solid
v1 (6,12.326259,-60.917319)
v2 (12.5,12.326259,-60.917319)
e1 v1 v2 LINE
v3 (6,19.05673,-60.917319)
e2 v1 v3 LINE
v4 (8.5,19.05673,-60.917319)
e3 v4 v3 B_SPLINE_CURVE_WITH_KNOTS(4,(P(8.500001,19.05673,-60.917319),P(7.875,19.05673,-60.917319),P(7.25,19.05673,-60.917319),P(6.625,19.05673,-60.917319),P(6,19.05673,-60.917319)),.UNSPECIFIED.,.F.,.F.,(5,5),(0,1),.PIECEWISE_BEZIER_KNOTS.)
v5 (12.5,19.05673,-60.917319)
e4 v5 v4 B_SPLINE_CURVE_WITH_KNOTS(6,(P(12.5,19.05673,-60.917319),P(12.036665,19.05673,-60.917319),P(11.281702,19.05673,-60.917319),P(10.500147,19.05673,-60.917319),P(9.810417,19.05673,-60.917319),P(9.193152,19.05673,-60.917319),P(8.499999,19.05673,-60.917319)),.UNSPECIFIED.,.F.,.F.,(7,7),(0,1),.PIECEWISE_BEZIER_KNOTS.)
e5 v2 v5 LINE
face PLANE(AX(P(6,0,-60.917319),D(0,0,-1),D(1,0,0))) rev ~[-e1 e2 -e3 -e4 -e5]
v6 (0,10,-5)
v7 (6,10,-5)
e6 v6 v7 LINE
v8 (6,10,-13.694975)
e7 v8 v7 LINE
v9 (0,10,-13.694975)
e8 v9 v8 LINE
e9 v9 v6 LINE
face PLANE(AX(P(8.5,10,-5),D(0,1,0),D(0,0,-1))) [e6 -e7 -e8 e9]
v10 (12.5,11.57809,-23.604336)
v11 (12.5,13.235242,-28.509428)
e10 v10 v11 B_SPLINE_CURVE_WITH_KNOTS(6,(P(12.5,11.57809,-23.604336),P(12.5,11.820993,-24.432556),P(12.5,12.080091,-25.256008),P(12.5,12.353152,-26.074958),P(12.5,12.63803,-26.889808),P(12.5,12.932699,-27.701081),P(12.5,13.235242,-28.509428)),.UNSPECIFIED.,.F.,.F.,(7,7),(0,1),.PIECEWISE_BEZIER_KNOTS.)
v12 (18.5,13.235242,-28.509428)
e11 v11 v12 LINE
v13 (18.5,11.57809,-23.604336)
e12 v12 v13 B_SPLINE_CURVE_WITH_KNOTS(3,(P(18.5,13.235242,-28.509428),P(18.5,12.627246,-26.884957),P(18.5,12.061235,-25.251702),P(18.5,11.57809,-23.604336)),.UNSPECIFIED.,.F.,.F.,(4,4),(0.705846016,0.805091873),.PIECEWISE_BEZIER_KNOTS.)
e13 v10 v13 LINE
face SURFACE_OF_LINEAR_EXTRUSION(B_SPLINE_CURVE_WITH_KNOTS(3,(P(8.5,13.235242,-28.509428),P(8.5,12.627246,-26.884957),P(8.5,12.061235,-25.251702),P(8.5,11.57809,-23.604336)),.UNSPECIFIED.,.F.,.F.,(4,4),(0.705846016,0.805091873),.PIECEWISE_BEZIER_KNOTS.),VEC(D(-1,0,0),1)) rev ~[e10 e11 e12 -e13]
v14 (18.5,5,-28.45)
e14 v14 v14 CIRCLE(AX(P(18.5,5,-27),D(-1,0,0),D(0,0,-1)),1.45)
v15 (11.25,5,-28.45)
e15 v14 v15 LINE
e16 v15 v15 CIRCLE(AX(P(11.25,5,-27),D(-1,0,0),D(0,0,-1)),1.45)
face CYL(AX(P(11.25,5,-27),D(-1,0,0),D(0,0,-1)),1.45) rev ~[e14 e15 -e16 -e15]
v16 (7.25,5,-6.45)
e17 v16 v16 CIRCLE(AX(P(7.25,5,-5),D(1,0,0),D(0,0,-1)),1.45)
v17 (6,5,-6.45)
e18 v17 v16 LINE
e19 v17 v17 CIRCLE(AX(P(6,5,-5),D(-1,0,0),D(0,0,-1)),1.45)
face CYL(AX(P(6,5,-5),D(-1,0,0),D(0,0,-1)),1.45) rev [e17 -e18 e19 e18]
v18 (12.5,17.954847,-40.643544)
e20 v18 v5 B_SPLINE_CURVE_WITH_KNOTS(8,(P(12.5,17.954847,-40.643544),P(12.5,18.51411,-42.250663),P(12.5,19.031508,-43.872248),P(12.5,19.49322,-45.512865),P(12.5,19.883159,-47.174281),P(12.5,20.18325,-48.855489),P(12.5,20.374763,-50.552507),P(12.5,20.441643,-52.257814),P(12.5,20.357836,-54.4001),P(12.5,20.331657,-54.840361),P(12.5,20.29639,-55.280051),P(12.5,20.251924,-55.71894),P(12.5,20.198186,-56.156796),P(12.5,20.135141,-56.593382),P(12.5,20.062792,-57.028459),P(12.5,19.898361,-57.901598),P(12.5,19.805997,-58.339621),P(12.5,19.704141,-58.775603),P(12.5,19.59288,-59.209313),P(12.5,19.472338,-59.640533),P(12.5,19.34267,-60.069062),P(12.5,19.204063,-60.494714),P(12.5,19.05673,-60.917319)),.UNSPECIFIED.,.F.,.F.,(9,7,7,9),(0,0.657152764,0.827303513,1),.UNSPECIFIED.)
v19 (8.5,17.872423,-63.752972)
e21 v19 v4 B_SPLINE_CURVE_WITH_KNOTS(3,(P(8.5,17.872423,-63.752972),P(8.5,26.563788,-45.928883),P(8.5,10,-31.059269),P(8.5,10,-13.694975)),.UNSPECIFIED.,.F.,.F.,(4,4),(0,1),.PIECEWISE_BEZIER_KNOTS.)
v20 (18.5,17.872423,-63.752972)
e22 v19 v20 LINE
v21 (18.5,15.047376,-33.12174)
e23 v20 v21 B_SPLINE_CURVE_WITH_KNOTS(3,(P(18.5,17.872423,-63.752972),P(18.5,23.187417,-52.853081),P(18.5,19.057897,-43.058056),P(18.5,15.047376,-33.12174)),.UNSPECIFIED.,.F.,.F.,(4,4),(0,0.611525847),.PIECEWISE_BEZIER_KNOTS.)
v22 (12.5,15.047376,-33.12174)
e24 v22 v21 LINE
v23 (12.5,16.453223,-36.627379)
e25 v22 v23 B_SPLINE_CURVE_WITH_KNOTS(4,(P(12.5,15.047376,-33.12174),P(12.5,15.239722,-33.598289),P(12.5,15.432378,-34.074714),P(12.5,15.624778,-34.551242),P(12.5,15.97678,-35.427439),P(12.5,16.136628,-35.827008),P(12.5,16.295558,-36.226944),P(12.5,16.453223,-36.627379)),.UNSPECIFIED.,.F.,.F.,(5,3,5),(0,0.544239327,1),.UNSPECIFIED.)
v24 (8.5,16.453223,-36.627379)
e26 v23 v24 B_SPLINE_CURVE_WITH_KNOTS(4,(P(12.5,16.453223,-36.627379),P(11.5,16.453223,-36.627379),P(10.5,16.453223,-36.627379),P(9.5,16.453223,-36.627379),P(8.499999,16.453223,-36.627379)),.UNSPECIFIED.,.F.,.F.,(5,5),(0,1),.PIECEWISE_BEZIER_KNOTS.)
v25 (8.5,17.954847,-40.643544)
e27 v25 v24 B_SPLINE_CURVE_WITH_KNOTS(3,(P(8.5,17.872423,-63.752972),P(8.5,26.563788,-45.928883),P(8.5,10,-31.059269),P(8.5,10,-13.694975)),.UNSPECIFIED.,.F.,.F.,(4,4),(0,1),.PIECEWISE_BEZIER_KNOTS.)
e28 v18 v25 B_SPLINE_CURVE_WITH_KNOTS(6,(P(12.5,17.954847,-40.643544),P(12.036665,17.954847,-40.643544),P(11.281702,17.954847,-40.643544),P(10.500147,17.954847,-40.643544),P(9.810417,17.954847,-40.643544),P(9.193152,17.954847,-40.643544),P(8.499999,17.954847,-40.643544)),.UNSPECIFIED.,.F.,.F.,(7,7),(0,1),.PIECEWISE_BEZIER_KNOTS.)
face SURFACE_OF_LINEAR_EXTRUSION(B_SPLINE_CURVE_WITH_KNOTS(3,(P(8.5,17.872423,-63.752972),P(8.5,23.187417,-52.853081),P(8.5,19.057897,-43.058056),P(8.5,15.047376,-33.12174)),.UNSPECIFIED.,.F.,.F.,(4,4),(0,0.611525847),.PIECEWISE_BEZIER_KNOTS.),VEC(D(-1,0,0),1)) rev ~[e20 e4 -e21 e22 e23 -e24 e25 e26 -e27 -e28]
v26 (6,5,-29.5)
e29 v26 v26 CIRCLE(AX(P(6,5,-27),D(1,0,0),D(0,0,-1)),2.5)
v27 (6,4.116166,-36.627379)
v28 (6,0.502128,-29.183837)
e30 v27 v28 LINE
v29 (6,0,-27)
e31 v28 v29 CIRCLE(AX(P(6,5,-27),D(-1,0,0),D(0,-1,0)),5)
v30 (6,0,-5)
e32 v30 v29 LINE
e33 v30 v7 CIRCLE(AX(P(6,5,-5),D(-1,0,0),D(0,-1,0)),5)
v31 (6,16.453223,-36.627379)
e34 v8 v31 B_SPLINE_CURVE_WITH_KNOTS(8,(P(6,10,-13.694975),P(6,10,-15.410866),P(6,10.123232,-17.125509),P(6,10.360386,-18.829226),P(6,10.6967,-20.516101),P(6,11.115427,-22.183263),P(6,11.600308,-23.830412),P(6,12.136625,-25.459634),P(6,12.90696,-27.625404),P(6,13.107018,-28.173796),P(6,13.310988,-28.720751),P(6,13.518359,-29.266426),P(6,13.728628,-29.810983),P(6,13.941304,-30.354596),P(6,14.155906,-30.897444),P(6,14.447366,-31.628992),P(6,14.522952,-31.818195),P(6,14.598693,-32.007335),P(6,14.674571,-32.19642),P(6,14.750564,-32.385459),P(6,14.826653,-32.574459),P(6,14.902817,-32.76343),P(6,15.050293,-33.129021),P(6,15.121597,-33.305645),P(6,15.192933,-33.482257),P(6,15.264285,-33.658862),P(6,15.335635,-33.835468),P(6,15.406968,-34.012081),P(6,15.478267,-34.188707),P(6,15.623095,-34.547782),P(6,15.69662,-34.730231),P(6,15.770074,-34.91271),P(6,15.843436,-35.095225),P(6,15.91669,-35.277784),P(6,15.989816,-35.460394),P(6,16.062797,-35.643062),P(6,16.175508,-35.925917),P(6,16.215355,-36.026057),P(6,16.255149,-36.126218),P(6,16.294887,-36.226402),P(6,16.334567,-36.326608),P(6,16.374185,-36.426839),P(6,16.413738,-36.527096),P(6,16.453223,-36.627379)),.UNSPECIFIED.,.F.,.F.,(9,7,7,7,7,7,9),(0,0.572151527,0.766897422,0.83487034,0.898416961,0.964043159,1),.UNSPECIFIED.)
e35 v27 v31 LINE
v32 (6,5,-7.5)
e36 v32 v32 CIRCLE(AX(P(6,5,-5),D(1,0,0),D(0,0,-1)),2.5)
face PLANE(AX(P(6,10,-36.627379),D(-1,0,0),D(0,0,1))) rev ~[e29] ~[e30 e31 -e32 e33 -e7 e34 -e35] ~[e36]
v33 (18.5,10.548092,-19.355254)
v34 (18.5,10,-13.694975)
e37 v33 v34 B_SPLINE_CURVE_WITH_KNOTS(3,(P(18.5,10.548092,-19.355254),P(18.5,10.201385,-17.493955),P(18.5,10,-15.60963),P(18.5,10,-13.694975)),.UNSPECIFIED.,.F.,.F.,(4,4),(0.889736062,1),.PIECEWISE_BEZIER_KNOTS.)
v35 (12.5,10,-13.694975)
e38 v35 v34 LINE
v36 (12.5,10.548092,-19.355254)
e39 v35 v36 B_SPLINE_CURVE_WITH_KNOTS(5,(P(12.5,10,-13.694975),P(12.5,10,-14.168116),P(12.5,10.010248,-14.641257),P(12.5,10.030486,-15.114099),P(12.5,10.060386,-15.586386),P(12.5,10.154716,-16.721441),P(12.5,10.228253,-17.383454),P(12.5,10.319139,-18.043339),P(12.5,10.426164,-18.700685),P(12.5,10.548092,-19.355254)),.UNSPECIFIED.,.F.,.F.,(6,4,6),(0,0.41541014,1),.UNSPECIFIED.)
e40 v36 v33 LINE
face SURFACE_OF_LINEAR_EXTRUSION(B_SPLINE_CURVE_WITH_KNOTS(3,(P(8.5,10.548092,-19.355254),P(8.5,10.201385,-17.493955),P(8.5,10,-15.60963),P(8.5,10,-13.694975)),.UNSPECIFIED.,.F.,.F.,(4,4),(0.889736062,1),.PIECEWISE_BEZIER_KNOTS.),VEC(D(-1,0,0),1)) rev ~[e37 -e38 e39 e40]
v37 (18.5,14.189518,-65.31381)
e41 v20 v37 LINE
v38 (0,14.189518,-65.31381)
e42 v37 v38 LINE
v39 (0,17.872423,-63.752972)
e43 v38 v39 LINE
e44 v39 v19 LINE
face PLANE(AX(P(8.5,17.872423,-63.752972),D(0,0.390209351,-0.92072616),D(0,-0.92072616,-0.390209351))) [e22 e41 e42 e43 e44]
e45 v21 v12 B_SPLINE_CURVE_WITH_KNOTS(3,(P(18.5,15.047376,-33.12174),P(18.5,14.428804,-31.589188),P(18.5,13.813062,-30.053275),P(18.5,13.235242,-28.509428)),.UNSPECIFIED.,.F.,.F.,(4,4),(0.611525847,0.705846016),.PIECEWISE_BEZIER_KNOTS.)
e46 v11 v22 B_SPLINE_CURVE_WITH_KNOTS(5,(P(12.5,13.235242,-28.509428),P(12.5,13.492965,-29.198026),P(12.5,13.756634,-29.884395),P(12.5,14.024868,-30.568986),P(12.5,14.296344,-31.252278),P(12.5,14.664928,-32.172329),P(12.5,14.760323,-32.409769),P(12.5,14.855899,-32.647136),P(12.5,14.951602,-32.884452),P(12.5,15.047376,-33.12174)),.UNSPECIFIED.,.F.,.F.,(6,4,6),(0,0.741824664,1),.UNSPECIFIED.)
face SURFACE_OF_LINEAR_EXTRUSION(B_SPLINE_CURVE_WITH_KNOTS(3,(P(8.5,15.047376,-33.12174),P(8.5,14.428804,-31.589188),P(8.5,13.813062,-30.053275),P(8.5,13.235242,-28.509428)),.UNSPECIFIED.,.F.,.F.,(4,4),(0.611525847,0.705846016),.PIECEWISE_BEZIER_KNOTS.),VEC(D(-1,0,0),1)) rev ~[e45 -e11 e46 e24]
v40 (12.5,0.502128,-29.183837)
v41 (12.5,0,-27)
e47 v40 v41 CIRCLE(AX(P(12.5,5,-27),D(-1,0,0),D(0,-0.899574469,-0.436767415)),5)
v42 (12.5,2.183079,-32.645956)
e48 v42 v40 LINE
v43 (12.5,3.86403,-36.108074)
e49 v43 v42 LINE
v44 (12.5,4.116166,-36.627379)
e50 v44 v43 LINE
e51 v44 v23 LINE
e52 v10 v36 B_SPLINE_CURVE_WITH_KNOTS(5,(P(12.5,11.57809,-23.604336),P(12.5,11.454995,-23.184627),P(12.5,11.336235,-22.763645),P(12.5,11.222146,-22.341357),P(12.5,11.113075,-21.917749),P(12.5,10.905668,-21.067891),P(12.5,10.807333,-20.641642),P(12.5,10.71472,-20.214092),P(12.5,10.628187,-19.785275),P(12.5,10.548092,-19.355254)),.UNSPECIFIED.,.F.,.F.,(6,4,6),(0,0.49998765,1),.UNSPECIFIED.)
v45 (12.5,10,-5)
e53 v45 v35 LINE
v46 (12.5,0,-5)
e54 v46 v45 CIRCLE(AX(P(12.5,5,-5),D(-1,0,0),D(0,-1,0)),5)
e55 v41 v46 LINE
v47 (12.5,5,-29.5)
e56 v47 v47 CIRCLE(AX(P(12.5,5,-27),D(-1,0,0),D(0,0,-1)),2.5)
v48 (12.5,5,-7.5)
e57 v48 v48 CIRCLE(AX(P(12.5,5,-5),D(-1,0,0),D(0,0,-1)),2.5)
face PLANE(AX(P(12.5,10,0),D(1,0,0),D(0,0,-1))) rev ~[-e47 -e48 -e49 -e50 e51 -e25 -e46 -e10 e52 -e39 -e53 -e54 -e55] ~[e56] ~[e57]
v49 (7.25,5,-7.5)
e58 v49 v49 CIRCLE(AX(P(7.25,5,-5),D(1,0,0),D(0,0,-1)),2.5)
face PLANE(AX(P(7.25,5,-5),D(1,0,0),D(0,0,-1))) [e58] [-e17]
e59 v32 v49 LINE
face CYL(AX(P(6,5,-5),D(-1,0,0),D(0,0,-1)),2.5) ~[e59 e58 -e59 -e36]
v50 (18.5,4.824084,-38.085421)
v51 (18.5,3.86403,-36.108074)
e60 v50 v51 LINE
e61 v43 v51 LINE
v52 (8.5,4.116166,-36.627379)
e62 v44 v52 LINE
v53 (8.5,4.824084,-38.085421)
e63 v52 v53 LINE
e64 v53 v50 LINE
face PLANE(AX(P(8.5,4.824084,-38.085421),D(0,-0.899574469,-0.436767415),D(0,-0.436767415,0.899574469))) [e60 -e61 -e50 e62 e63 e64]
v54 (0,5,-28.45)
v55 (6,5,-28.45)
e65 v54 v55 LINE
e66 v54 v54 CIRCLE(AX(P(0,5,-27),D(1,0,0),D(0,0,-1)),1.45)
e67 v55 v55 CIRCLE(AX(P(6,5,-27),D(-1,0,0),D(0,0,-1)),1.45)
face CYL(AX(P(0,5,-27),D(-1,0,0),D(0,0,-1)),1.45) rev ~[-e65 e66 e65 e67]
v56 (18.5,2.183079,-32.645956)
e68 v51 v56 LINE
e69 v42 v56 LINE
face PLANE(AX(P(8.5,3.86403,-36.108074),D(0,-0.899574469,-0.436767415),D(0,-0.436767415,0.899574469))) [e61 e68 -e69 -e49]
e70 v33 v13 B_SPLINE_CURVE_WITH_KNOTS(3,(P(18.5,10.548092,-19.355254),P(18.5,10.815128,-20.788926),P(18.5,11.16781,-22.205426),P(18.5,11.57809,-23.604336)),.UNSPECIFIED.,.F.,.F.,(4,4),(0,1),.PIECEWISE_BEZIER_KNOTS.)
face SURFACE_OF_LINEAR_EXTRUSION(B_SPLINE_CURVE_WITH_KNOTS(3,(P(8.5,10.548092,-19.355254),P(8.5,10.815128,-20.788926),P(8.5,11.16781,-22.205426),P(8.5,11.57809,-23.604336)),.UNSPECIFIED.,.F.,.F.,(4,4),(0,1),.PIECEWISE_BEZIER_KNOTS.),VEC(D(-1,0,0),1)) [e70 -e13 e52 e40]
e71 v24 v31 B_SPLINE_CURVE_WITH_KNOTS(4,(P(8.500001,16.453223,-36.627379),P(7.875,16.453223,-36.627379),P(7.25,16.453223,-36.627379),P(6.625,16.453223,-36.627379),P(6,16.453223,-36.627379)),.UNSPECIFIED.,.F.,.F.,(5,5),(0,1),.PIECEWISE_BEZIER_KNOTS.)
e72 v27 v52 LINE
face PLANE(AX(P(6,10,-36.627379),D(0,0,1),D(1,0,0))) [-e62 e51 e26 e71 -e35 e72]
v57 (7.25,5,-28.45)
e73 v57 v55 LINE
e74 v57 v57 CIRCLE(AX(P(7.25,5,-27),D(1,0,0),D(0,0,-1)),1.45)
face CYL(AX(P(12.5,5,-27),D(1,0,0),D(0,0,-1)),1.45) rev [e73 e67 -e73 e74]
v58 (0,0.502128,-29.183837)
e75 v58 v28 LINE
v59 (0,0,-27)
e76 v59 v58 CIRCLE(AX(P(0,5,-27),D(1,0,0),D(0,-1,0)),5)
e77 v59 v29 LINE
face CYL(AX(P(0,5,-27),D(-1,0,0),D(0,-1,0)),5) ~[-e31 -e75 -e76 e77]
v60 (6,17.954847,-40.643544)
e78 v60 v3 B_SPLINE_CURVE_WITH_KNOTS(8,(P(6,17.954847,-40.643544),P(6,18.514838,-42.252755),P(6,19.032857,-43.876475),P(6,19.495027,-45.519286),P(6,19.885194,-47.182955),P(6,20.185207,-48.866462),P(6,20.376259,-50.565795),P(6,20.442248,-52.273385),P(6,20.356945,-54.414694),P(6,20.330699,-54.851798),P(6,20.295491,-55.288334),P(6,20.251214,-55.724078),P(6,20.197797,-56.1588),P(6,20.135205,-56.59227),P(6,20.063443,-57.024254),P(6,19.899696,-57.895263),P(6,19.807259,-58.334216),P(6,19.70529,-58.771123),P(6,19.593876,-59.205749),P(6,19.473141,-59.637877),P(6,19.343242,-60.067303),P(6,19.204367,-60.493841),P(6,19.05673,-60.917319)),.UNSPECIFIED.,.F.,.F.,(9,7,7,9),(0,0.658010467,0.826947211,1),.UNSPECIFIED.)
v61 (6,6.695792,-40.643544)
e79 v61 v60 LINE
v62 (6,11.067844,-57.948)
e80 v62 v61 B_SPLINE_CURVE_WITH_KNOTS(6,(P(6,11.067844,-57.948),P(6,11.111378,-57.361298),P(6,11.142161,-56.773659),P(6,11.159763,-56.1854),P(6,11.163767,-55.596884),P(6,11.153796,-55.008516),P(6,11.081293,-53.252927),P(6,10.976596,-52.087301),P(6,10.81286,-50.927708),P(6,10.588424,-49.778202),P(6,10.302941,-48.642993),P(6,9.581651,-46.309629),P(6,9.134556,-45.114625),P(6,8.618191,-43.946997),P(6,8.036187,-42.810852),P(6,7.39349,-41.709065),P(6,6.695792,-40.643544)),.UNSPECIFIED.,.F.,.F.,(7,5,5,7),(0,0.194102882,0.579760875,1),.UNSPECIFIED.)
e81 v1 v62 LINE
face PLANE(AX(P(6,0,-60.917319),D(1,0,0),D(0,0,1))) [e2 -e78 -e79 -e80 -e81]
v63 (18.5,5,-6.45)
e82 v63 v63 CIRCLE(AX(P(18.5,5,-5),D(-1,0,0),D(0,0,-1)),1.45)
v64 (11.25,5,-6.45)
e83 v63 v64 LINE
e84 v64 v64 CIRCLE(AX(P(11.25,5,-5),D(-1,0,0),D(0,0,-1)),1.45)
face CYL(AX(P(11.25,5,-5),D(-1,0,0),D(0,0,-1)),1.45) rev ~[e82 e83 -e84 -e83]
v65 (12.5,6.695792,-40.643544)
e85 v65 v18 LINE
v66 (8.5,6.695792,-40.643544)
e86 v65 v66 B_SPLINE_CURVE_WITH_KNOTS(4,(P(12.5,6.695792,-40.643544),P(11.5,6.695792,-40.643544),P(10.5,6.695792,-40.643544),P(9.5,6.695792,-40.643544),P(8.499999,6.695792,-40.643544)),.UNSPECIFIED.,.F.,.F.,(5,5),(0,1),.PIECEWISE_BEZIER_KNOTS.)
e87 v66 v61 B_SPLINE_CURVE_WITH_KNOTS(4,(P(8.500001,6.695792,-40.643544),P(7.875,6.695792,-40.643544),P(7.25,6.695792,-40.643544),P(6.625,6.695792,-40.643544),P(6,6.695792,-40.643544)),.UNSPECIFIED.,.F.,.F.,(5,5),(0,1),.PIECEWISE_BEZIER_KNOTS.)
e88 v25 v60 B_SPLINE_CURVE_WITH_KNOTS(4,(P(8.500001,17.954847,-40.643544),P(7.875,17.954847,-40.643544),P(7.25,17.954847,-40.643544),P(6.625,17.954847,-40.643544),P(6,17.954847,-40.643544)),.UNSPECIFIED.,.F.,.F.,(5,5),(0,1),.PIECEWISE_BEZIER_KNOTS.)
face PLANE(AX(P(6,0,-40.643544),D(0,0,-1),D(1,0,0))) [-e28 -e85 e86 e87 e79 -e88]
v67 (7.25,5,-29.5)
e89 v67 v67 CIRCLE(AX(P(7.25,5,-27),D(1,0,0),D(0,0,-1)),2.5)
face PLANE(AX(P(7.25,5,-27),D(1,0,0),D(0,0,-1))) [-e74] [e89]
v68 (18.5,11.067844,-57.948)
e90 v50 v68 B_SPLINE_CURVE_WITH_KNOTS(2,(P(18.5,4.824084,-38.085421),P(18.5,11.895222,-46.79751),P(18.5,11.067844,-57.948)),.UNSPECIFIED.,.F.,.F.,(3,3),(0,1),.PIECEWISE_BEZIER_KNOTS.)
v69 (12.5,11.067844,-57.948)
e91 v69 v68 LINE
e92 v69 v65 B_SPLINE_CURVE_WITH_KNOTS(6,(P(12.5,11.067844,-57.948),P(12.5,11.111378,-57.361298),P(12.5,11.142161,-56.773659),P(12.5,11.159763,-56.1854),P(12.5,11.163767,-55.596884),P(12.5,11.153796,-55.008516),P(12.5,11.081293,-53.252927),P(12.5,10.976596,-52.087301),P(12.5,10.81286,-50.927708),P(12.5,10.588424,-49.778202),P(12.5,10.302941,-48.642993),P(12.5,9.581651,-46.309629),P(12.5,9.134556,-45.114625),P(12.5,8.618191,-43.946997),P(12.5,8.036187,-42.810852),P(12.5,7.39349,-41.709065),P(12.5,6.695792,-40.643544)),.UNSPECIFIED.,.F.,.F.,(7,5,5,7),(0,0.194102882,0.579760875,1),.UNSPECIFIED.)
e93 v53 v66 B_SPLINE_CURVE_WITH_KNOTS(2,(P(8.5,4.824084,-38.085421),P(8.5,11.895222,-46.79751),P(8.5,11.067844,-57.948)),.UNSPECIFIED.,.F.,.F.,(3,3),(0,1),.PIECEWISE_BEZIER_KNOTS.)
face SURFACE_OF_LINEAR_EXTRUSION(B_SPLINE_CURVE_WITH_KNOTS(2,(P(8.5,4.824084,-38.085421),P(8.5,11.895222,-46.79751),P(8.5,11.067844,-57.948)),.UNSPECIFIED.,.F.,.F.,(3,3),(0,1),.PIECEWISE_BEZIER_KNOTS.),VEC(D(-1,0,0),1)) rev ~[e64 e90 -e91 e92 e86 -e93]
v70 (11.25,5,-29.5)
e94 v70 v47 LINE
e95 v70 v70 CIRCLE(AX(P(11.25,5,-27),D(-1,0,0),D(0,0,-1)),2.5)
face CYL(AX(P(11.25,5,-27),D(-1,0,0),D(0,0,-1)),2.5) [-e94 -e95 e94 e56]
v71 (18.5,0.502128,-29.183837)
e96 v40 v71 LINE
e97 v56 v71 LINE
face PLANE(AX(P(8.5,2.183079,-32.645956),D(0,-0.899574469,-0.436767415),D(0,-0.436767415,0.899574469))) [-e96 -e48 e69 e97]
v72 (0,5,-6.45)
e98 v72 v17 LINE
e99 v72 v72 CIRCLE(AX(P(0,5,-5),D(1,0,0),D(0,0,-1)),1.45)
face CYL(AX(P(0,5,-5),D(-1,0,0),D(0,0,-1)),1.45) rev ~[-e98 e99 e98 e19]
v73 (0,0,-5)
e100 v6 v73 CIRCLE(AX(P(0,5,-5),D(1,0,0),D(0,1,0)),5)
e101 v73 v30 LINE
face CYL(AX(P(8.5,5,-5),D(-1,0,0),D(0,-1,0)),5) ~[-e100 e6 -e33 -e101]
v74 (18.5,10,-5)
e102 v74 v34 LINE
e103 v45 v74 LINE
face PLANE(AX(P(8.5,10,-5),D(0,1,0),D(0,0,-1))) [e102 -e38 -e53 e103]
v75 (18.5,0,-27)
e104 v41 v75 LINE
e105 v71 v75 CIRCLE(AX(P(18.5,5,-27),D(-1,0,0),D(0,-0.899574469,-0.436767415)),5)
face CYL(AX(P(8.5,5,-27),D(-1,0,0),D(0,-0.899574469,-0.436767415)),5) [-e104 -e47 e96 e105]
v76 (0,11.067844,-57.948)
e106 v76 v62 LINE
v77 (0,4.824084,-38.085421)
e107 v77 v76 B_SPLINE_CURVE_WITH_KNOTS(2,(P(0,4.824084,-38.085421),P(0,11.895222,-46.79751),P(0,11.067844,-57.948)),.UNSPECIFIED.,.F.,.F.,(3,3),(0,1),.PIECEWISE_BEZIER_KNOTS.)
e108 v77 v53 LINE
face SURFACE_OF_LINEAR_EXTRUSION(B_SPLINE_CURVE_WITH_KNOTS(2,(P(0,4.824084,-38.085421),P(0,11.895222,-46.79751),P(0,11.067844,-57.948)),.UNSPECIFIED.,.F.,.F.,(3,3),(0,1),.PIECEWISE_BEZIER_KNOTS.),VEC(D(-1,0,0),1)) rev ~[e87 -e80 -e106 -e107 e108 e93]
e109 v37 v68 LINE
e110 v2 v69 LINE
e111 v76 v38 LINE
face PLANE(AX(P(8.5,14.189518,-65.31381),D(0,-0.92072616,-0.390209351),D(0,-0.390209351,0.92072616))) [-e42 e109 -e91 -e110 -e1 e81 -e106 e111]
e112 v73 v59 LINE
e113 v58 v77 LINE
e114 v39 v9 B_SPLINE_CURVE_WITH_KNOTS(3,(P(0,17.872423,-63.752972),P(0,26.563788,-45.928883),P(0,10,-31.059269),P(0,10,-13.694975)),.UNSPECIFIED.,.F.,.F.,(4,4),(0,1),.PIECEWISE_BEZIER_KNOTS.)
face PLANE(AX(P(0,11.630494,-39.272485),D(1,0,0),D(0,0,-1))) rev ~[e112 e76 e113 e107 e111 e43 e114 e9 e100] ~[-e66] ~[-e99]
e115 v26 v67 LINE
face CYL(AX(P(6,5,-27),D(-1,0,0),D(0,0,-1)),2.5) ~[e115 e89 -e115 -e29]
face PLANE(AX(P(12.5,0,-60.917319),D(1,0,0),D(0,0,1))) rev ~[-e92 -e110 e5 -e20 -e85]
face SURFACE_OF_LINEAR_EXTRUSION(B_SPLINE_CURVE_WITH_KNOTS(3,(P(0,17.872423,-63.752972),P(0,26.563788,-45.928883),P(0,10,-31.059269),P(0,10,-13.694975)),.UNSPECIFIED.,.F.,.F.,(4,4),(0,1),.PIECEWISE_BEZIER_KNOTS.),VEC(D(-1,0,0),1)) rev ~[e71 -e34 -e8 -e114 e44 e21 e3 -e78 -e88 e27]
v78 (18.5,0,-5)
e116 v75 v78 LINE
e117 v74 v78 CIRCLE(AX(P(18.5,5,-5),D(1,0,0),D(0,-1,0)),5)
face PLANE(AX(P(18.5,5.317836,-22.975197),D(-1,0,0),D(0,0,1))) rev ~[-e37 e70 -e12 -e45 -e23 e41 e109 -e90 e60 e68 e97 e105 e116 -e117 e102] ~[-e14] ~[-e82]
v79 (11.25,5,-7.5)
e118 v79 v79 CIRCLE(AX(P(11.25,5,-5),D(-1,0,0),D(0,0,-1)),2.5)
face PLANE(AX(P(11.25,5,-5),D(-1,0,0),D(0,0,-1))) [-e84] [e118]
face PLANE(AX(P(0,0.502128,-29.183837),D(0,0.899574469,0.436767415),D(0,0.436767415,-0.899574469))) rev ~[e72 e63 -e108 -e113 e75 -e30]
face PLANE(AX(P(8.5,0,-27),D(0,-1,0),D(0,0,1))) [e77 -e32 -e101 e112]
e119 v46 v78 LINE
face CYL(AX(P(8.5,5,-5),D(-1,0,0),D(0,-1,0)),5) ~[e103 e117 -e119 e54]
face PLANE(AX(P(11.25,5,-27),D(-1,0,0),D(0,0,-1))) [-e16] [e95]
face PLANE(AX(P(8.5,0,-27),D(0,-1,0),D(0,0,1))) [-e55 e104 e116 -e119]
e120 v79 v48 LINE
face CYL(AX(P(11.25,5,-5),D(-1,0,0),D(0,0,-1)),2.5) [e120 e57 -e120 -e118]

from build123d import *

# Parameters (mm, degrees)
SKETCH1_R            = 1.45
BOSS_EXTRUDE1_DEPTH  = 8.5
BOSS_EXTRUDE2_START  = -8.5
BOSS_EXTRUDE2_DEPTH  = 8.5
BOSS_EXTRUDE3_DEPTH  = 10
SKETCH4_R            = 5
BOSS_EXTRUDE4_DEPTH  = 10
BOSS_EXTRUDE5_DEPTH  = 10
BOSS_EXTRUDE6_DEPTH  = 10
BOSS_EXTRUDE7_DEPTH  = 10
BOSS_EXTRUDE8_DEPTH  = 10
BOSS_EXTRUDE9_DEPTH  = 10
SKETCH10_R           = 1.45
CUT_EXTRUDE2_DEPTH   = 28
SKETCH11_W           = 6.5
SKETCH11_H           = 22.932404029
SKETCH11_H_2         = 5
SKETCH11_H_3         = 8.694974759
CUT_EXTRUDE3_DEPTH   = 49
SKETCH12_W           = 6.5
SKETCH12_H           = 22.932404029
CUT_EXTRUDE4_DEPTH   = 49
SKETCH14_W           = 6.5
SKETCH14_H           = 20.273775142
CUT_EXTRUDE5_DEPTH   = 49
BOSS_EXTRUDE10_START = 1.25
SKETCH17_R           = 2.5
SKETCH17_R_2         = 1.45
BOSS_EXTRUDE10_DEPTH = 1.25
SKETCH18_R           = 2.5
SKETCH18_R_2         = 1.45
BOSS_EXTRUDE11_DEPTH = 1.25
SKETCH19_R           = 2.5
BOSS_EXTRUDE12_DEPTH = 1.25
BOSS_EXTRUDE13_START = 1.25
SKETCH21_R           = 2.5
SKETCH21_R_2         = 1.45
BOSS_EXTRUDE13_DEPTH = 1.25
SKETCH22_R           = 1.45
CUT_EXTRUDE6_DEPTH   = 70.556228756


with BuildPart() as part:
    # Sketch1 → Boss-Extrude1 (new body)
    with BuildSketch(Plane(origin=(0, 0, 0), x_dir=(0, 0, -1), z_dir=(1, 0, 0))):
        with BuildLine():
            Line((27, 10), (5, 10))
            ThreePointArc((5, 10), (0, 5), (5, 0))
            Line((5, 0), (27, 0))
            ThreePointArc((27, 0), (32, 5), (27, 10))
        make_face()
        with Locations((5, 5)):
            Circle(SKETCH1_R, mode=Mode.SUBTRACT)
        with Locations((27, 5)):
            Circle(SKETCH1_R, mode=Mode.SUBTRACT)
    extrude(amount=BOSS_EXTRUDE1_DEPTH)

    # Sketch2 → Boss-Extrude2 (add)
    with BuildSketch(Plane(origin=(8.5, 0, 0), x_dir=(0, 0, -1), z_dir=(1, 0, 0)).offset(BOSS_EXTRUDE2_START)):
        with BuildLine():
            add(Edge.make_bspline(
                [(63.752972286, 17.872423117), (45.928882678, 26.563787963), (31.059268621, 10), (13.694974759, 10)],
                knots=[0, 0, 0, 0, 1, 1, 1, 1], degree=3))
            Line((13.694974759, 10), (27, 10))
            ThreePointArc((27, 10), (31.87285141, 6.120410255), (29.183837075, 0.502127655))
            Line((29.183837075, 0.502127655), (38.08542066, 4.824084077))
            add(Edge.make_bspline(
                [(38.08542066, 4.824084077), (46.797509509, 11.895222457), (57.948000409, 11.067843667)],
                knots=[0, 0, 0, 1, 1, 1], degree=2))
            Line((57.948000409, 11.067843667), (65.313809691, 14.189518476))
            Line((65.313809691, 14.189518476), (63.752972286, 17.872423117))
        make_face()
    extrude(amount=BOSS_EXTRUDE2_DEPTH)

    # Sketch3 → Boss-Extrude3 (add)
    with BuildSketch(Plane(origin=(8.5, 0, 0), x_dir=(0, 0, -1), z_dir=(1, 0, 0))):
        with BuildLine():
            Line((36.108074214, 3.8640296), (33.121739514, 15.047376099))
            add(Edge.make_bspline(
                [(63.752972286, 17.872423117), (52.853080786, 23.187417369), (43.058056373, 19.057897142), (33.121739514, 15.047376099)],
                knots=[0, 0, 0, 0, 0.611525847, 0.611525847, 0.611525847, 0.611525847], degree=3))
            Line((63.752972286, 17.872423117), (65.313809691, 14.189518476))
            Line((65.313809691, 14.189518476), (57.948000409, 11.067843667))
            add(Edge.make_bspline(
                [(38.08542066, 4.824084077), (46.79750951, 11.895222457), (57.948000409, 11.067843667)],
                knots=[0, 0, 0, 1, 1, 1], degree=2))
            Line((38.08542066, 4.824084077), (36.108074214, 3.8640296))
        make_face()
    extrude(amount=BOSS_EXTRUDE3_DEPTH)

    # Sketch4 → Boss-Extrude4 (add)
    with BuildSketch(Plane(origin=(8.5, 0, 0), x_dir=(0, 0, -1), z_dir=(1, 0, 0))):
        with Locations(Location((5, 5, 0), (0, 0, 270))):
            Circle(SKETCH4_R)
    extrude(amount=BOSS_EXTRUDE4_DEPTH)

    # Sketch5 → Boss-Extrude5 (add)
    with BuildSketch(Plane(origin=(8.5, 0, 0), x_dir=(0, 0, -1), z_dir=(1, 0, 0))):
        with BuildLine():
            Line((5, 10), (13.694974759, 10))
            Line((13.694974759, 10), (13.694974759, 0))
            Line((13.694974759, 0), (5, 0))
            ThreePointArc((5, 0), (10, 5), (5, 10))
        make_face()
    extrude(amount=BOSS_EXTRUDE5_DEPTH)

    # Sketch6 → Boss-Extrude6 (add)
    with BuildSketch(Plane(origin=(8.5, 0, 0), x_dir=(0, 0, -1), z_dir=(1, 0, 0))):
        with BuildLine():
            Line((19.355254229, 10.548091727), (21.320062705, 0))
            Line((21.320062705, 0), (13.694974759, 0))
            Line((13.694974759, 0), (13.694974759, 10))
            add(Edge.make_bspline(
                [(19.355254229, 10.548091727), (17.493954956, 10.201384788), (15.609630186, 10), (13.694974759, 10)],
                knots=[0.889736062, 0.889736062, 0.889736062, 0.889736062, 1, 1, 1, 1], degree=3))
        make_face()
    extrude(amount=BOSS_EXTRUDE6_DEPTH)

    # Sketch7 → Boss-Extrude7 (add)
    with BuildSketch(Plane(origin=(8.5, 0, 0), x_dir=(0, 0, -1), z_dir=(1, 0, 0))):
        with BuildLine():
            Line((32.645955645, 2.183078628), (28.509427835, 13.235241807))
            add(Edge.make_bspline(
                [(33.121739514, 15.047376099), (31.589187648, 14.428803684), (30.053274551, 13.813062163), (28.509427835, 13.235241807)],
                knots=[0.611525847, 0.611525847, 0.611525847, 0.611525847, 0.705846016, 0.705846016, 0.705846016, 0.705846016], degree=3))
            Line((33.121739514, 15.047376099), (36.108074214, 3.8640296))
            Line((36.108074214, 3.8640296), (32.645955645, 2.183078628))
        make_face()
    extrude(amount=BOSS_EXTRUDE7_DEPTH)

    # Sketch8 → Boss-Extrude8 (add)
    with BuildSketch(Plane(origin=(8.5, 0, 0), x_dir=(0, 0, -1), z_dir=(1, 0, 0))):
        with BuildLine():
            Line((27, 0), (23.604335966, 11.578089924))
            add(Edge.make_bspline(
                [(28.509427835, 13.235241807), (26.884956708, 12.627245898), (25.251701682, 12.061235292), (23.604335966, 11.578089924)],
                knots=[0.705846016, 0.705846016, 0.705846016, 0.705846016, 0.805091873, 0.805091873, 0.805091873, 0.805091873], degree=3))
            Line((28.509427835, 13.235241807), (32.645955645, 2.183078628))
            Line((32.645955645, 2.183078628), (29.183837075, 0.502127655))
            ThreePointArc((29.183837075, 0.502127655), (28.120410255, 0.12714859), (27, 0))
        make_face()
    extrude(amount=BOSS_EXTRUDE8_DEPTH)

    # Sketch9 → Boss-Extrude9 (add)
    with BuildSketch(Plane(origin=(8.5, 0, 0), x_dir=(0, 0, -1), z_dir=(1, 0, 0))):
        with BuildLine():
            Line((23.604335966, 11.578089924), (27, 0))
            Line((27, 0), (21.320062705, 0))
            Line((21.320062705, 0), (19.355254229, 10.548091727))
            add(Edge.make_bspline(
                [(19.355254229, 10.548091727), (20.788925962, 10.815127802), (22.205425846, 11.167809658), (23.604335966, 11.578089924)],
                knots=[0, 0, 0, 0, 1, 1, 1, 1], degree=3))
        make_face()
    extrude(amount=BOSS_EXTRUDE9_DEPTH)

    # Sketch10 → Cut-Extrude2 (cut)
    with BuildSketch(Plane.ZY):
        with Locations(Location((-27, 5, 0), (0, 0, 180))):
            Circle(SKETCH10_R)
        with Locations(Location((-5, 5, 0), (0, 0, 180))):
            Circle(SKETCH10_R)
    extrude(amount=-CUT_EXTRUDE2_DEPTH, mode=Mode.SUBTRACT)

    # Sketch11 → Cut-Extrude3 (cut)
    with BuildSketch(Plane(origin=(0, 10, 0), x_dir=(1, 0, 0), z_dir=(0, 1, 0))):
        with Locations((9.25, 25.161176774)):
            Rectangle(SKETCH11_W, SKETCH11_H)
        with Locations((9.25, 2.5)):
            Rectangle(SKETCH11_W, SKETCH11_H_2)
        with Locations((9.25, 9.34748738)):
            Rectangle(SKETCH11_W, SKETCH11_H_3)
    extrude(amount=-CUT_EXTRUDE3_DEPTH, mode=Mode.SUBTRACT)

    # Sketch12 → Cut-Extrude4 (cut)
    with BuildSketch(Plane(origin=(0, 10, 0), x_dir=(-1, 0, 0), z_dir=(0, -1, 0))):
        with Locations((-9.25, 25.161176774)):
            Rectangle(SKETCH12_W, SKETCH12_H)
    extrude(amount=-CUT_EXTRUDE4_DEPTH, mode=Mode.SUBTRACT)

    # Sketch14 → Cut-Extrude5 (cut)
    with BuildSketch(Plane.XZ):
        with Locations((9.25, -50.780431109)):
            Rectangle(SKETCH14_W, SKETCH14_H)
    extrude(amount=-CUT_EXTRUDE5_DEPTH, mode=Mode.SUBTRACT)

    # Sketch17 → Boss-Extrude10 (add)
    with BuildSketch(Plane.ZY.offset(-12.5).offset(BOSS_EXTRUDE10_START)):
        with Locations(Location((-5, 5, 0), (0, 0, 180))):
            Circle(SKETCH17_R)
        with Locations(Location((-5, 5, 0), (0, 0, 180))):
            Circle(SKETCH17_R_2, mode=Mode.SUBTRACT)
    extrude(amount=-BOSS_EXTRUDE10_DEPTH)

    # Sketch18 → Boss-Extrude11 (add)
    with BuildSketch(Plane(origin=(6, 0, 0), x_dir=(0, 0, -1), z_dir=(1, 0, 0))):
        with Locations((5, 5)):
            Circle(SKETCH18_R)
        with Locations((5, 5)):
            Circle(SKETCH18_R_2, mode=Mode.SUBTRACT)
    extrude(amount=BOSS_EXTRUDE11_DEPTH)

    # Sketch19 → Boss-Extrude12 (add)
    with BuildSketch(Plane(origin=(6, 0, 0), x_dir=(0, 0, -1), z_dir=(1, 0, 0))):
        with Locations((27, 5)):
            Circle(SKETCH19_R)
    extrude(amount=BOSS_EXTRUDE12_DEPTH)

    # Sketch21 → Boss-Extrude13 (add)
    with BuildSketch(Plane.ZY.offset(-12.5).offset(BOSS_EXTRUDE13_START)):
        with Locations(Location((-27, 5, 0), (0, 0, 180))):
            Circle(SKETCH21_R)
        with Locations(Location((-27, 5, 0), (0, 0, 180))):
            Circle(SKETCH21_R_2, mode=Mode.SUBTRACT)
    extrude(amount=-BOSS_EXTRUDE13_DEPTH)

    # Sketch22 → Cut-Extrude6 (cut, through all)
    with BuildSketch(Plane.ZY.offset(-12.5)):
        with Locations(Location((-27, 5, 0), (0, 0, 180))):
            Circle(SKETCH22_R)
    extrude(amount=CUT_EXTRUDE6_DEPTH, mode=Mode.SUBTRACT)


solid = part.part
